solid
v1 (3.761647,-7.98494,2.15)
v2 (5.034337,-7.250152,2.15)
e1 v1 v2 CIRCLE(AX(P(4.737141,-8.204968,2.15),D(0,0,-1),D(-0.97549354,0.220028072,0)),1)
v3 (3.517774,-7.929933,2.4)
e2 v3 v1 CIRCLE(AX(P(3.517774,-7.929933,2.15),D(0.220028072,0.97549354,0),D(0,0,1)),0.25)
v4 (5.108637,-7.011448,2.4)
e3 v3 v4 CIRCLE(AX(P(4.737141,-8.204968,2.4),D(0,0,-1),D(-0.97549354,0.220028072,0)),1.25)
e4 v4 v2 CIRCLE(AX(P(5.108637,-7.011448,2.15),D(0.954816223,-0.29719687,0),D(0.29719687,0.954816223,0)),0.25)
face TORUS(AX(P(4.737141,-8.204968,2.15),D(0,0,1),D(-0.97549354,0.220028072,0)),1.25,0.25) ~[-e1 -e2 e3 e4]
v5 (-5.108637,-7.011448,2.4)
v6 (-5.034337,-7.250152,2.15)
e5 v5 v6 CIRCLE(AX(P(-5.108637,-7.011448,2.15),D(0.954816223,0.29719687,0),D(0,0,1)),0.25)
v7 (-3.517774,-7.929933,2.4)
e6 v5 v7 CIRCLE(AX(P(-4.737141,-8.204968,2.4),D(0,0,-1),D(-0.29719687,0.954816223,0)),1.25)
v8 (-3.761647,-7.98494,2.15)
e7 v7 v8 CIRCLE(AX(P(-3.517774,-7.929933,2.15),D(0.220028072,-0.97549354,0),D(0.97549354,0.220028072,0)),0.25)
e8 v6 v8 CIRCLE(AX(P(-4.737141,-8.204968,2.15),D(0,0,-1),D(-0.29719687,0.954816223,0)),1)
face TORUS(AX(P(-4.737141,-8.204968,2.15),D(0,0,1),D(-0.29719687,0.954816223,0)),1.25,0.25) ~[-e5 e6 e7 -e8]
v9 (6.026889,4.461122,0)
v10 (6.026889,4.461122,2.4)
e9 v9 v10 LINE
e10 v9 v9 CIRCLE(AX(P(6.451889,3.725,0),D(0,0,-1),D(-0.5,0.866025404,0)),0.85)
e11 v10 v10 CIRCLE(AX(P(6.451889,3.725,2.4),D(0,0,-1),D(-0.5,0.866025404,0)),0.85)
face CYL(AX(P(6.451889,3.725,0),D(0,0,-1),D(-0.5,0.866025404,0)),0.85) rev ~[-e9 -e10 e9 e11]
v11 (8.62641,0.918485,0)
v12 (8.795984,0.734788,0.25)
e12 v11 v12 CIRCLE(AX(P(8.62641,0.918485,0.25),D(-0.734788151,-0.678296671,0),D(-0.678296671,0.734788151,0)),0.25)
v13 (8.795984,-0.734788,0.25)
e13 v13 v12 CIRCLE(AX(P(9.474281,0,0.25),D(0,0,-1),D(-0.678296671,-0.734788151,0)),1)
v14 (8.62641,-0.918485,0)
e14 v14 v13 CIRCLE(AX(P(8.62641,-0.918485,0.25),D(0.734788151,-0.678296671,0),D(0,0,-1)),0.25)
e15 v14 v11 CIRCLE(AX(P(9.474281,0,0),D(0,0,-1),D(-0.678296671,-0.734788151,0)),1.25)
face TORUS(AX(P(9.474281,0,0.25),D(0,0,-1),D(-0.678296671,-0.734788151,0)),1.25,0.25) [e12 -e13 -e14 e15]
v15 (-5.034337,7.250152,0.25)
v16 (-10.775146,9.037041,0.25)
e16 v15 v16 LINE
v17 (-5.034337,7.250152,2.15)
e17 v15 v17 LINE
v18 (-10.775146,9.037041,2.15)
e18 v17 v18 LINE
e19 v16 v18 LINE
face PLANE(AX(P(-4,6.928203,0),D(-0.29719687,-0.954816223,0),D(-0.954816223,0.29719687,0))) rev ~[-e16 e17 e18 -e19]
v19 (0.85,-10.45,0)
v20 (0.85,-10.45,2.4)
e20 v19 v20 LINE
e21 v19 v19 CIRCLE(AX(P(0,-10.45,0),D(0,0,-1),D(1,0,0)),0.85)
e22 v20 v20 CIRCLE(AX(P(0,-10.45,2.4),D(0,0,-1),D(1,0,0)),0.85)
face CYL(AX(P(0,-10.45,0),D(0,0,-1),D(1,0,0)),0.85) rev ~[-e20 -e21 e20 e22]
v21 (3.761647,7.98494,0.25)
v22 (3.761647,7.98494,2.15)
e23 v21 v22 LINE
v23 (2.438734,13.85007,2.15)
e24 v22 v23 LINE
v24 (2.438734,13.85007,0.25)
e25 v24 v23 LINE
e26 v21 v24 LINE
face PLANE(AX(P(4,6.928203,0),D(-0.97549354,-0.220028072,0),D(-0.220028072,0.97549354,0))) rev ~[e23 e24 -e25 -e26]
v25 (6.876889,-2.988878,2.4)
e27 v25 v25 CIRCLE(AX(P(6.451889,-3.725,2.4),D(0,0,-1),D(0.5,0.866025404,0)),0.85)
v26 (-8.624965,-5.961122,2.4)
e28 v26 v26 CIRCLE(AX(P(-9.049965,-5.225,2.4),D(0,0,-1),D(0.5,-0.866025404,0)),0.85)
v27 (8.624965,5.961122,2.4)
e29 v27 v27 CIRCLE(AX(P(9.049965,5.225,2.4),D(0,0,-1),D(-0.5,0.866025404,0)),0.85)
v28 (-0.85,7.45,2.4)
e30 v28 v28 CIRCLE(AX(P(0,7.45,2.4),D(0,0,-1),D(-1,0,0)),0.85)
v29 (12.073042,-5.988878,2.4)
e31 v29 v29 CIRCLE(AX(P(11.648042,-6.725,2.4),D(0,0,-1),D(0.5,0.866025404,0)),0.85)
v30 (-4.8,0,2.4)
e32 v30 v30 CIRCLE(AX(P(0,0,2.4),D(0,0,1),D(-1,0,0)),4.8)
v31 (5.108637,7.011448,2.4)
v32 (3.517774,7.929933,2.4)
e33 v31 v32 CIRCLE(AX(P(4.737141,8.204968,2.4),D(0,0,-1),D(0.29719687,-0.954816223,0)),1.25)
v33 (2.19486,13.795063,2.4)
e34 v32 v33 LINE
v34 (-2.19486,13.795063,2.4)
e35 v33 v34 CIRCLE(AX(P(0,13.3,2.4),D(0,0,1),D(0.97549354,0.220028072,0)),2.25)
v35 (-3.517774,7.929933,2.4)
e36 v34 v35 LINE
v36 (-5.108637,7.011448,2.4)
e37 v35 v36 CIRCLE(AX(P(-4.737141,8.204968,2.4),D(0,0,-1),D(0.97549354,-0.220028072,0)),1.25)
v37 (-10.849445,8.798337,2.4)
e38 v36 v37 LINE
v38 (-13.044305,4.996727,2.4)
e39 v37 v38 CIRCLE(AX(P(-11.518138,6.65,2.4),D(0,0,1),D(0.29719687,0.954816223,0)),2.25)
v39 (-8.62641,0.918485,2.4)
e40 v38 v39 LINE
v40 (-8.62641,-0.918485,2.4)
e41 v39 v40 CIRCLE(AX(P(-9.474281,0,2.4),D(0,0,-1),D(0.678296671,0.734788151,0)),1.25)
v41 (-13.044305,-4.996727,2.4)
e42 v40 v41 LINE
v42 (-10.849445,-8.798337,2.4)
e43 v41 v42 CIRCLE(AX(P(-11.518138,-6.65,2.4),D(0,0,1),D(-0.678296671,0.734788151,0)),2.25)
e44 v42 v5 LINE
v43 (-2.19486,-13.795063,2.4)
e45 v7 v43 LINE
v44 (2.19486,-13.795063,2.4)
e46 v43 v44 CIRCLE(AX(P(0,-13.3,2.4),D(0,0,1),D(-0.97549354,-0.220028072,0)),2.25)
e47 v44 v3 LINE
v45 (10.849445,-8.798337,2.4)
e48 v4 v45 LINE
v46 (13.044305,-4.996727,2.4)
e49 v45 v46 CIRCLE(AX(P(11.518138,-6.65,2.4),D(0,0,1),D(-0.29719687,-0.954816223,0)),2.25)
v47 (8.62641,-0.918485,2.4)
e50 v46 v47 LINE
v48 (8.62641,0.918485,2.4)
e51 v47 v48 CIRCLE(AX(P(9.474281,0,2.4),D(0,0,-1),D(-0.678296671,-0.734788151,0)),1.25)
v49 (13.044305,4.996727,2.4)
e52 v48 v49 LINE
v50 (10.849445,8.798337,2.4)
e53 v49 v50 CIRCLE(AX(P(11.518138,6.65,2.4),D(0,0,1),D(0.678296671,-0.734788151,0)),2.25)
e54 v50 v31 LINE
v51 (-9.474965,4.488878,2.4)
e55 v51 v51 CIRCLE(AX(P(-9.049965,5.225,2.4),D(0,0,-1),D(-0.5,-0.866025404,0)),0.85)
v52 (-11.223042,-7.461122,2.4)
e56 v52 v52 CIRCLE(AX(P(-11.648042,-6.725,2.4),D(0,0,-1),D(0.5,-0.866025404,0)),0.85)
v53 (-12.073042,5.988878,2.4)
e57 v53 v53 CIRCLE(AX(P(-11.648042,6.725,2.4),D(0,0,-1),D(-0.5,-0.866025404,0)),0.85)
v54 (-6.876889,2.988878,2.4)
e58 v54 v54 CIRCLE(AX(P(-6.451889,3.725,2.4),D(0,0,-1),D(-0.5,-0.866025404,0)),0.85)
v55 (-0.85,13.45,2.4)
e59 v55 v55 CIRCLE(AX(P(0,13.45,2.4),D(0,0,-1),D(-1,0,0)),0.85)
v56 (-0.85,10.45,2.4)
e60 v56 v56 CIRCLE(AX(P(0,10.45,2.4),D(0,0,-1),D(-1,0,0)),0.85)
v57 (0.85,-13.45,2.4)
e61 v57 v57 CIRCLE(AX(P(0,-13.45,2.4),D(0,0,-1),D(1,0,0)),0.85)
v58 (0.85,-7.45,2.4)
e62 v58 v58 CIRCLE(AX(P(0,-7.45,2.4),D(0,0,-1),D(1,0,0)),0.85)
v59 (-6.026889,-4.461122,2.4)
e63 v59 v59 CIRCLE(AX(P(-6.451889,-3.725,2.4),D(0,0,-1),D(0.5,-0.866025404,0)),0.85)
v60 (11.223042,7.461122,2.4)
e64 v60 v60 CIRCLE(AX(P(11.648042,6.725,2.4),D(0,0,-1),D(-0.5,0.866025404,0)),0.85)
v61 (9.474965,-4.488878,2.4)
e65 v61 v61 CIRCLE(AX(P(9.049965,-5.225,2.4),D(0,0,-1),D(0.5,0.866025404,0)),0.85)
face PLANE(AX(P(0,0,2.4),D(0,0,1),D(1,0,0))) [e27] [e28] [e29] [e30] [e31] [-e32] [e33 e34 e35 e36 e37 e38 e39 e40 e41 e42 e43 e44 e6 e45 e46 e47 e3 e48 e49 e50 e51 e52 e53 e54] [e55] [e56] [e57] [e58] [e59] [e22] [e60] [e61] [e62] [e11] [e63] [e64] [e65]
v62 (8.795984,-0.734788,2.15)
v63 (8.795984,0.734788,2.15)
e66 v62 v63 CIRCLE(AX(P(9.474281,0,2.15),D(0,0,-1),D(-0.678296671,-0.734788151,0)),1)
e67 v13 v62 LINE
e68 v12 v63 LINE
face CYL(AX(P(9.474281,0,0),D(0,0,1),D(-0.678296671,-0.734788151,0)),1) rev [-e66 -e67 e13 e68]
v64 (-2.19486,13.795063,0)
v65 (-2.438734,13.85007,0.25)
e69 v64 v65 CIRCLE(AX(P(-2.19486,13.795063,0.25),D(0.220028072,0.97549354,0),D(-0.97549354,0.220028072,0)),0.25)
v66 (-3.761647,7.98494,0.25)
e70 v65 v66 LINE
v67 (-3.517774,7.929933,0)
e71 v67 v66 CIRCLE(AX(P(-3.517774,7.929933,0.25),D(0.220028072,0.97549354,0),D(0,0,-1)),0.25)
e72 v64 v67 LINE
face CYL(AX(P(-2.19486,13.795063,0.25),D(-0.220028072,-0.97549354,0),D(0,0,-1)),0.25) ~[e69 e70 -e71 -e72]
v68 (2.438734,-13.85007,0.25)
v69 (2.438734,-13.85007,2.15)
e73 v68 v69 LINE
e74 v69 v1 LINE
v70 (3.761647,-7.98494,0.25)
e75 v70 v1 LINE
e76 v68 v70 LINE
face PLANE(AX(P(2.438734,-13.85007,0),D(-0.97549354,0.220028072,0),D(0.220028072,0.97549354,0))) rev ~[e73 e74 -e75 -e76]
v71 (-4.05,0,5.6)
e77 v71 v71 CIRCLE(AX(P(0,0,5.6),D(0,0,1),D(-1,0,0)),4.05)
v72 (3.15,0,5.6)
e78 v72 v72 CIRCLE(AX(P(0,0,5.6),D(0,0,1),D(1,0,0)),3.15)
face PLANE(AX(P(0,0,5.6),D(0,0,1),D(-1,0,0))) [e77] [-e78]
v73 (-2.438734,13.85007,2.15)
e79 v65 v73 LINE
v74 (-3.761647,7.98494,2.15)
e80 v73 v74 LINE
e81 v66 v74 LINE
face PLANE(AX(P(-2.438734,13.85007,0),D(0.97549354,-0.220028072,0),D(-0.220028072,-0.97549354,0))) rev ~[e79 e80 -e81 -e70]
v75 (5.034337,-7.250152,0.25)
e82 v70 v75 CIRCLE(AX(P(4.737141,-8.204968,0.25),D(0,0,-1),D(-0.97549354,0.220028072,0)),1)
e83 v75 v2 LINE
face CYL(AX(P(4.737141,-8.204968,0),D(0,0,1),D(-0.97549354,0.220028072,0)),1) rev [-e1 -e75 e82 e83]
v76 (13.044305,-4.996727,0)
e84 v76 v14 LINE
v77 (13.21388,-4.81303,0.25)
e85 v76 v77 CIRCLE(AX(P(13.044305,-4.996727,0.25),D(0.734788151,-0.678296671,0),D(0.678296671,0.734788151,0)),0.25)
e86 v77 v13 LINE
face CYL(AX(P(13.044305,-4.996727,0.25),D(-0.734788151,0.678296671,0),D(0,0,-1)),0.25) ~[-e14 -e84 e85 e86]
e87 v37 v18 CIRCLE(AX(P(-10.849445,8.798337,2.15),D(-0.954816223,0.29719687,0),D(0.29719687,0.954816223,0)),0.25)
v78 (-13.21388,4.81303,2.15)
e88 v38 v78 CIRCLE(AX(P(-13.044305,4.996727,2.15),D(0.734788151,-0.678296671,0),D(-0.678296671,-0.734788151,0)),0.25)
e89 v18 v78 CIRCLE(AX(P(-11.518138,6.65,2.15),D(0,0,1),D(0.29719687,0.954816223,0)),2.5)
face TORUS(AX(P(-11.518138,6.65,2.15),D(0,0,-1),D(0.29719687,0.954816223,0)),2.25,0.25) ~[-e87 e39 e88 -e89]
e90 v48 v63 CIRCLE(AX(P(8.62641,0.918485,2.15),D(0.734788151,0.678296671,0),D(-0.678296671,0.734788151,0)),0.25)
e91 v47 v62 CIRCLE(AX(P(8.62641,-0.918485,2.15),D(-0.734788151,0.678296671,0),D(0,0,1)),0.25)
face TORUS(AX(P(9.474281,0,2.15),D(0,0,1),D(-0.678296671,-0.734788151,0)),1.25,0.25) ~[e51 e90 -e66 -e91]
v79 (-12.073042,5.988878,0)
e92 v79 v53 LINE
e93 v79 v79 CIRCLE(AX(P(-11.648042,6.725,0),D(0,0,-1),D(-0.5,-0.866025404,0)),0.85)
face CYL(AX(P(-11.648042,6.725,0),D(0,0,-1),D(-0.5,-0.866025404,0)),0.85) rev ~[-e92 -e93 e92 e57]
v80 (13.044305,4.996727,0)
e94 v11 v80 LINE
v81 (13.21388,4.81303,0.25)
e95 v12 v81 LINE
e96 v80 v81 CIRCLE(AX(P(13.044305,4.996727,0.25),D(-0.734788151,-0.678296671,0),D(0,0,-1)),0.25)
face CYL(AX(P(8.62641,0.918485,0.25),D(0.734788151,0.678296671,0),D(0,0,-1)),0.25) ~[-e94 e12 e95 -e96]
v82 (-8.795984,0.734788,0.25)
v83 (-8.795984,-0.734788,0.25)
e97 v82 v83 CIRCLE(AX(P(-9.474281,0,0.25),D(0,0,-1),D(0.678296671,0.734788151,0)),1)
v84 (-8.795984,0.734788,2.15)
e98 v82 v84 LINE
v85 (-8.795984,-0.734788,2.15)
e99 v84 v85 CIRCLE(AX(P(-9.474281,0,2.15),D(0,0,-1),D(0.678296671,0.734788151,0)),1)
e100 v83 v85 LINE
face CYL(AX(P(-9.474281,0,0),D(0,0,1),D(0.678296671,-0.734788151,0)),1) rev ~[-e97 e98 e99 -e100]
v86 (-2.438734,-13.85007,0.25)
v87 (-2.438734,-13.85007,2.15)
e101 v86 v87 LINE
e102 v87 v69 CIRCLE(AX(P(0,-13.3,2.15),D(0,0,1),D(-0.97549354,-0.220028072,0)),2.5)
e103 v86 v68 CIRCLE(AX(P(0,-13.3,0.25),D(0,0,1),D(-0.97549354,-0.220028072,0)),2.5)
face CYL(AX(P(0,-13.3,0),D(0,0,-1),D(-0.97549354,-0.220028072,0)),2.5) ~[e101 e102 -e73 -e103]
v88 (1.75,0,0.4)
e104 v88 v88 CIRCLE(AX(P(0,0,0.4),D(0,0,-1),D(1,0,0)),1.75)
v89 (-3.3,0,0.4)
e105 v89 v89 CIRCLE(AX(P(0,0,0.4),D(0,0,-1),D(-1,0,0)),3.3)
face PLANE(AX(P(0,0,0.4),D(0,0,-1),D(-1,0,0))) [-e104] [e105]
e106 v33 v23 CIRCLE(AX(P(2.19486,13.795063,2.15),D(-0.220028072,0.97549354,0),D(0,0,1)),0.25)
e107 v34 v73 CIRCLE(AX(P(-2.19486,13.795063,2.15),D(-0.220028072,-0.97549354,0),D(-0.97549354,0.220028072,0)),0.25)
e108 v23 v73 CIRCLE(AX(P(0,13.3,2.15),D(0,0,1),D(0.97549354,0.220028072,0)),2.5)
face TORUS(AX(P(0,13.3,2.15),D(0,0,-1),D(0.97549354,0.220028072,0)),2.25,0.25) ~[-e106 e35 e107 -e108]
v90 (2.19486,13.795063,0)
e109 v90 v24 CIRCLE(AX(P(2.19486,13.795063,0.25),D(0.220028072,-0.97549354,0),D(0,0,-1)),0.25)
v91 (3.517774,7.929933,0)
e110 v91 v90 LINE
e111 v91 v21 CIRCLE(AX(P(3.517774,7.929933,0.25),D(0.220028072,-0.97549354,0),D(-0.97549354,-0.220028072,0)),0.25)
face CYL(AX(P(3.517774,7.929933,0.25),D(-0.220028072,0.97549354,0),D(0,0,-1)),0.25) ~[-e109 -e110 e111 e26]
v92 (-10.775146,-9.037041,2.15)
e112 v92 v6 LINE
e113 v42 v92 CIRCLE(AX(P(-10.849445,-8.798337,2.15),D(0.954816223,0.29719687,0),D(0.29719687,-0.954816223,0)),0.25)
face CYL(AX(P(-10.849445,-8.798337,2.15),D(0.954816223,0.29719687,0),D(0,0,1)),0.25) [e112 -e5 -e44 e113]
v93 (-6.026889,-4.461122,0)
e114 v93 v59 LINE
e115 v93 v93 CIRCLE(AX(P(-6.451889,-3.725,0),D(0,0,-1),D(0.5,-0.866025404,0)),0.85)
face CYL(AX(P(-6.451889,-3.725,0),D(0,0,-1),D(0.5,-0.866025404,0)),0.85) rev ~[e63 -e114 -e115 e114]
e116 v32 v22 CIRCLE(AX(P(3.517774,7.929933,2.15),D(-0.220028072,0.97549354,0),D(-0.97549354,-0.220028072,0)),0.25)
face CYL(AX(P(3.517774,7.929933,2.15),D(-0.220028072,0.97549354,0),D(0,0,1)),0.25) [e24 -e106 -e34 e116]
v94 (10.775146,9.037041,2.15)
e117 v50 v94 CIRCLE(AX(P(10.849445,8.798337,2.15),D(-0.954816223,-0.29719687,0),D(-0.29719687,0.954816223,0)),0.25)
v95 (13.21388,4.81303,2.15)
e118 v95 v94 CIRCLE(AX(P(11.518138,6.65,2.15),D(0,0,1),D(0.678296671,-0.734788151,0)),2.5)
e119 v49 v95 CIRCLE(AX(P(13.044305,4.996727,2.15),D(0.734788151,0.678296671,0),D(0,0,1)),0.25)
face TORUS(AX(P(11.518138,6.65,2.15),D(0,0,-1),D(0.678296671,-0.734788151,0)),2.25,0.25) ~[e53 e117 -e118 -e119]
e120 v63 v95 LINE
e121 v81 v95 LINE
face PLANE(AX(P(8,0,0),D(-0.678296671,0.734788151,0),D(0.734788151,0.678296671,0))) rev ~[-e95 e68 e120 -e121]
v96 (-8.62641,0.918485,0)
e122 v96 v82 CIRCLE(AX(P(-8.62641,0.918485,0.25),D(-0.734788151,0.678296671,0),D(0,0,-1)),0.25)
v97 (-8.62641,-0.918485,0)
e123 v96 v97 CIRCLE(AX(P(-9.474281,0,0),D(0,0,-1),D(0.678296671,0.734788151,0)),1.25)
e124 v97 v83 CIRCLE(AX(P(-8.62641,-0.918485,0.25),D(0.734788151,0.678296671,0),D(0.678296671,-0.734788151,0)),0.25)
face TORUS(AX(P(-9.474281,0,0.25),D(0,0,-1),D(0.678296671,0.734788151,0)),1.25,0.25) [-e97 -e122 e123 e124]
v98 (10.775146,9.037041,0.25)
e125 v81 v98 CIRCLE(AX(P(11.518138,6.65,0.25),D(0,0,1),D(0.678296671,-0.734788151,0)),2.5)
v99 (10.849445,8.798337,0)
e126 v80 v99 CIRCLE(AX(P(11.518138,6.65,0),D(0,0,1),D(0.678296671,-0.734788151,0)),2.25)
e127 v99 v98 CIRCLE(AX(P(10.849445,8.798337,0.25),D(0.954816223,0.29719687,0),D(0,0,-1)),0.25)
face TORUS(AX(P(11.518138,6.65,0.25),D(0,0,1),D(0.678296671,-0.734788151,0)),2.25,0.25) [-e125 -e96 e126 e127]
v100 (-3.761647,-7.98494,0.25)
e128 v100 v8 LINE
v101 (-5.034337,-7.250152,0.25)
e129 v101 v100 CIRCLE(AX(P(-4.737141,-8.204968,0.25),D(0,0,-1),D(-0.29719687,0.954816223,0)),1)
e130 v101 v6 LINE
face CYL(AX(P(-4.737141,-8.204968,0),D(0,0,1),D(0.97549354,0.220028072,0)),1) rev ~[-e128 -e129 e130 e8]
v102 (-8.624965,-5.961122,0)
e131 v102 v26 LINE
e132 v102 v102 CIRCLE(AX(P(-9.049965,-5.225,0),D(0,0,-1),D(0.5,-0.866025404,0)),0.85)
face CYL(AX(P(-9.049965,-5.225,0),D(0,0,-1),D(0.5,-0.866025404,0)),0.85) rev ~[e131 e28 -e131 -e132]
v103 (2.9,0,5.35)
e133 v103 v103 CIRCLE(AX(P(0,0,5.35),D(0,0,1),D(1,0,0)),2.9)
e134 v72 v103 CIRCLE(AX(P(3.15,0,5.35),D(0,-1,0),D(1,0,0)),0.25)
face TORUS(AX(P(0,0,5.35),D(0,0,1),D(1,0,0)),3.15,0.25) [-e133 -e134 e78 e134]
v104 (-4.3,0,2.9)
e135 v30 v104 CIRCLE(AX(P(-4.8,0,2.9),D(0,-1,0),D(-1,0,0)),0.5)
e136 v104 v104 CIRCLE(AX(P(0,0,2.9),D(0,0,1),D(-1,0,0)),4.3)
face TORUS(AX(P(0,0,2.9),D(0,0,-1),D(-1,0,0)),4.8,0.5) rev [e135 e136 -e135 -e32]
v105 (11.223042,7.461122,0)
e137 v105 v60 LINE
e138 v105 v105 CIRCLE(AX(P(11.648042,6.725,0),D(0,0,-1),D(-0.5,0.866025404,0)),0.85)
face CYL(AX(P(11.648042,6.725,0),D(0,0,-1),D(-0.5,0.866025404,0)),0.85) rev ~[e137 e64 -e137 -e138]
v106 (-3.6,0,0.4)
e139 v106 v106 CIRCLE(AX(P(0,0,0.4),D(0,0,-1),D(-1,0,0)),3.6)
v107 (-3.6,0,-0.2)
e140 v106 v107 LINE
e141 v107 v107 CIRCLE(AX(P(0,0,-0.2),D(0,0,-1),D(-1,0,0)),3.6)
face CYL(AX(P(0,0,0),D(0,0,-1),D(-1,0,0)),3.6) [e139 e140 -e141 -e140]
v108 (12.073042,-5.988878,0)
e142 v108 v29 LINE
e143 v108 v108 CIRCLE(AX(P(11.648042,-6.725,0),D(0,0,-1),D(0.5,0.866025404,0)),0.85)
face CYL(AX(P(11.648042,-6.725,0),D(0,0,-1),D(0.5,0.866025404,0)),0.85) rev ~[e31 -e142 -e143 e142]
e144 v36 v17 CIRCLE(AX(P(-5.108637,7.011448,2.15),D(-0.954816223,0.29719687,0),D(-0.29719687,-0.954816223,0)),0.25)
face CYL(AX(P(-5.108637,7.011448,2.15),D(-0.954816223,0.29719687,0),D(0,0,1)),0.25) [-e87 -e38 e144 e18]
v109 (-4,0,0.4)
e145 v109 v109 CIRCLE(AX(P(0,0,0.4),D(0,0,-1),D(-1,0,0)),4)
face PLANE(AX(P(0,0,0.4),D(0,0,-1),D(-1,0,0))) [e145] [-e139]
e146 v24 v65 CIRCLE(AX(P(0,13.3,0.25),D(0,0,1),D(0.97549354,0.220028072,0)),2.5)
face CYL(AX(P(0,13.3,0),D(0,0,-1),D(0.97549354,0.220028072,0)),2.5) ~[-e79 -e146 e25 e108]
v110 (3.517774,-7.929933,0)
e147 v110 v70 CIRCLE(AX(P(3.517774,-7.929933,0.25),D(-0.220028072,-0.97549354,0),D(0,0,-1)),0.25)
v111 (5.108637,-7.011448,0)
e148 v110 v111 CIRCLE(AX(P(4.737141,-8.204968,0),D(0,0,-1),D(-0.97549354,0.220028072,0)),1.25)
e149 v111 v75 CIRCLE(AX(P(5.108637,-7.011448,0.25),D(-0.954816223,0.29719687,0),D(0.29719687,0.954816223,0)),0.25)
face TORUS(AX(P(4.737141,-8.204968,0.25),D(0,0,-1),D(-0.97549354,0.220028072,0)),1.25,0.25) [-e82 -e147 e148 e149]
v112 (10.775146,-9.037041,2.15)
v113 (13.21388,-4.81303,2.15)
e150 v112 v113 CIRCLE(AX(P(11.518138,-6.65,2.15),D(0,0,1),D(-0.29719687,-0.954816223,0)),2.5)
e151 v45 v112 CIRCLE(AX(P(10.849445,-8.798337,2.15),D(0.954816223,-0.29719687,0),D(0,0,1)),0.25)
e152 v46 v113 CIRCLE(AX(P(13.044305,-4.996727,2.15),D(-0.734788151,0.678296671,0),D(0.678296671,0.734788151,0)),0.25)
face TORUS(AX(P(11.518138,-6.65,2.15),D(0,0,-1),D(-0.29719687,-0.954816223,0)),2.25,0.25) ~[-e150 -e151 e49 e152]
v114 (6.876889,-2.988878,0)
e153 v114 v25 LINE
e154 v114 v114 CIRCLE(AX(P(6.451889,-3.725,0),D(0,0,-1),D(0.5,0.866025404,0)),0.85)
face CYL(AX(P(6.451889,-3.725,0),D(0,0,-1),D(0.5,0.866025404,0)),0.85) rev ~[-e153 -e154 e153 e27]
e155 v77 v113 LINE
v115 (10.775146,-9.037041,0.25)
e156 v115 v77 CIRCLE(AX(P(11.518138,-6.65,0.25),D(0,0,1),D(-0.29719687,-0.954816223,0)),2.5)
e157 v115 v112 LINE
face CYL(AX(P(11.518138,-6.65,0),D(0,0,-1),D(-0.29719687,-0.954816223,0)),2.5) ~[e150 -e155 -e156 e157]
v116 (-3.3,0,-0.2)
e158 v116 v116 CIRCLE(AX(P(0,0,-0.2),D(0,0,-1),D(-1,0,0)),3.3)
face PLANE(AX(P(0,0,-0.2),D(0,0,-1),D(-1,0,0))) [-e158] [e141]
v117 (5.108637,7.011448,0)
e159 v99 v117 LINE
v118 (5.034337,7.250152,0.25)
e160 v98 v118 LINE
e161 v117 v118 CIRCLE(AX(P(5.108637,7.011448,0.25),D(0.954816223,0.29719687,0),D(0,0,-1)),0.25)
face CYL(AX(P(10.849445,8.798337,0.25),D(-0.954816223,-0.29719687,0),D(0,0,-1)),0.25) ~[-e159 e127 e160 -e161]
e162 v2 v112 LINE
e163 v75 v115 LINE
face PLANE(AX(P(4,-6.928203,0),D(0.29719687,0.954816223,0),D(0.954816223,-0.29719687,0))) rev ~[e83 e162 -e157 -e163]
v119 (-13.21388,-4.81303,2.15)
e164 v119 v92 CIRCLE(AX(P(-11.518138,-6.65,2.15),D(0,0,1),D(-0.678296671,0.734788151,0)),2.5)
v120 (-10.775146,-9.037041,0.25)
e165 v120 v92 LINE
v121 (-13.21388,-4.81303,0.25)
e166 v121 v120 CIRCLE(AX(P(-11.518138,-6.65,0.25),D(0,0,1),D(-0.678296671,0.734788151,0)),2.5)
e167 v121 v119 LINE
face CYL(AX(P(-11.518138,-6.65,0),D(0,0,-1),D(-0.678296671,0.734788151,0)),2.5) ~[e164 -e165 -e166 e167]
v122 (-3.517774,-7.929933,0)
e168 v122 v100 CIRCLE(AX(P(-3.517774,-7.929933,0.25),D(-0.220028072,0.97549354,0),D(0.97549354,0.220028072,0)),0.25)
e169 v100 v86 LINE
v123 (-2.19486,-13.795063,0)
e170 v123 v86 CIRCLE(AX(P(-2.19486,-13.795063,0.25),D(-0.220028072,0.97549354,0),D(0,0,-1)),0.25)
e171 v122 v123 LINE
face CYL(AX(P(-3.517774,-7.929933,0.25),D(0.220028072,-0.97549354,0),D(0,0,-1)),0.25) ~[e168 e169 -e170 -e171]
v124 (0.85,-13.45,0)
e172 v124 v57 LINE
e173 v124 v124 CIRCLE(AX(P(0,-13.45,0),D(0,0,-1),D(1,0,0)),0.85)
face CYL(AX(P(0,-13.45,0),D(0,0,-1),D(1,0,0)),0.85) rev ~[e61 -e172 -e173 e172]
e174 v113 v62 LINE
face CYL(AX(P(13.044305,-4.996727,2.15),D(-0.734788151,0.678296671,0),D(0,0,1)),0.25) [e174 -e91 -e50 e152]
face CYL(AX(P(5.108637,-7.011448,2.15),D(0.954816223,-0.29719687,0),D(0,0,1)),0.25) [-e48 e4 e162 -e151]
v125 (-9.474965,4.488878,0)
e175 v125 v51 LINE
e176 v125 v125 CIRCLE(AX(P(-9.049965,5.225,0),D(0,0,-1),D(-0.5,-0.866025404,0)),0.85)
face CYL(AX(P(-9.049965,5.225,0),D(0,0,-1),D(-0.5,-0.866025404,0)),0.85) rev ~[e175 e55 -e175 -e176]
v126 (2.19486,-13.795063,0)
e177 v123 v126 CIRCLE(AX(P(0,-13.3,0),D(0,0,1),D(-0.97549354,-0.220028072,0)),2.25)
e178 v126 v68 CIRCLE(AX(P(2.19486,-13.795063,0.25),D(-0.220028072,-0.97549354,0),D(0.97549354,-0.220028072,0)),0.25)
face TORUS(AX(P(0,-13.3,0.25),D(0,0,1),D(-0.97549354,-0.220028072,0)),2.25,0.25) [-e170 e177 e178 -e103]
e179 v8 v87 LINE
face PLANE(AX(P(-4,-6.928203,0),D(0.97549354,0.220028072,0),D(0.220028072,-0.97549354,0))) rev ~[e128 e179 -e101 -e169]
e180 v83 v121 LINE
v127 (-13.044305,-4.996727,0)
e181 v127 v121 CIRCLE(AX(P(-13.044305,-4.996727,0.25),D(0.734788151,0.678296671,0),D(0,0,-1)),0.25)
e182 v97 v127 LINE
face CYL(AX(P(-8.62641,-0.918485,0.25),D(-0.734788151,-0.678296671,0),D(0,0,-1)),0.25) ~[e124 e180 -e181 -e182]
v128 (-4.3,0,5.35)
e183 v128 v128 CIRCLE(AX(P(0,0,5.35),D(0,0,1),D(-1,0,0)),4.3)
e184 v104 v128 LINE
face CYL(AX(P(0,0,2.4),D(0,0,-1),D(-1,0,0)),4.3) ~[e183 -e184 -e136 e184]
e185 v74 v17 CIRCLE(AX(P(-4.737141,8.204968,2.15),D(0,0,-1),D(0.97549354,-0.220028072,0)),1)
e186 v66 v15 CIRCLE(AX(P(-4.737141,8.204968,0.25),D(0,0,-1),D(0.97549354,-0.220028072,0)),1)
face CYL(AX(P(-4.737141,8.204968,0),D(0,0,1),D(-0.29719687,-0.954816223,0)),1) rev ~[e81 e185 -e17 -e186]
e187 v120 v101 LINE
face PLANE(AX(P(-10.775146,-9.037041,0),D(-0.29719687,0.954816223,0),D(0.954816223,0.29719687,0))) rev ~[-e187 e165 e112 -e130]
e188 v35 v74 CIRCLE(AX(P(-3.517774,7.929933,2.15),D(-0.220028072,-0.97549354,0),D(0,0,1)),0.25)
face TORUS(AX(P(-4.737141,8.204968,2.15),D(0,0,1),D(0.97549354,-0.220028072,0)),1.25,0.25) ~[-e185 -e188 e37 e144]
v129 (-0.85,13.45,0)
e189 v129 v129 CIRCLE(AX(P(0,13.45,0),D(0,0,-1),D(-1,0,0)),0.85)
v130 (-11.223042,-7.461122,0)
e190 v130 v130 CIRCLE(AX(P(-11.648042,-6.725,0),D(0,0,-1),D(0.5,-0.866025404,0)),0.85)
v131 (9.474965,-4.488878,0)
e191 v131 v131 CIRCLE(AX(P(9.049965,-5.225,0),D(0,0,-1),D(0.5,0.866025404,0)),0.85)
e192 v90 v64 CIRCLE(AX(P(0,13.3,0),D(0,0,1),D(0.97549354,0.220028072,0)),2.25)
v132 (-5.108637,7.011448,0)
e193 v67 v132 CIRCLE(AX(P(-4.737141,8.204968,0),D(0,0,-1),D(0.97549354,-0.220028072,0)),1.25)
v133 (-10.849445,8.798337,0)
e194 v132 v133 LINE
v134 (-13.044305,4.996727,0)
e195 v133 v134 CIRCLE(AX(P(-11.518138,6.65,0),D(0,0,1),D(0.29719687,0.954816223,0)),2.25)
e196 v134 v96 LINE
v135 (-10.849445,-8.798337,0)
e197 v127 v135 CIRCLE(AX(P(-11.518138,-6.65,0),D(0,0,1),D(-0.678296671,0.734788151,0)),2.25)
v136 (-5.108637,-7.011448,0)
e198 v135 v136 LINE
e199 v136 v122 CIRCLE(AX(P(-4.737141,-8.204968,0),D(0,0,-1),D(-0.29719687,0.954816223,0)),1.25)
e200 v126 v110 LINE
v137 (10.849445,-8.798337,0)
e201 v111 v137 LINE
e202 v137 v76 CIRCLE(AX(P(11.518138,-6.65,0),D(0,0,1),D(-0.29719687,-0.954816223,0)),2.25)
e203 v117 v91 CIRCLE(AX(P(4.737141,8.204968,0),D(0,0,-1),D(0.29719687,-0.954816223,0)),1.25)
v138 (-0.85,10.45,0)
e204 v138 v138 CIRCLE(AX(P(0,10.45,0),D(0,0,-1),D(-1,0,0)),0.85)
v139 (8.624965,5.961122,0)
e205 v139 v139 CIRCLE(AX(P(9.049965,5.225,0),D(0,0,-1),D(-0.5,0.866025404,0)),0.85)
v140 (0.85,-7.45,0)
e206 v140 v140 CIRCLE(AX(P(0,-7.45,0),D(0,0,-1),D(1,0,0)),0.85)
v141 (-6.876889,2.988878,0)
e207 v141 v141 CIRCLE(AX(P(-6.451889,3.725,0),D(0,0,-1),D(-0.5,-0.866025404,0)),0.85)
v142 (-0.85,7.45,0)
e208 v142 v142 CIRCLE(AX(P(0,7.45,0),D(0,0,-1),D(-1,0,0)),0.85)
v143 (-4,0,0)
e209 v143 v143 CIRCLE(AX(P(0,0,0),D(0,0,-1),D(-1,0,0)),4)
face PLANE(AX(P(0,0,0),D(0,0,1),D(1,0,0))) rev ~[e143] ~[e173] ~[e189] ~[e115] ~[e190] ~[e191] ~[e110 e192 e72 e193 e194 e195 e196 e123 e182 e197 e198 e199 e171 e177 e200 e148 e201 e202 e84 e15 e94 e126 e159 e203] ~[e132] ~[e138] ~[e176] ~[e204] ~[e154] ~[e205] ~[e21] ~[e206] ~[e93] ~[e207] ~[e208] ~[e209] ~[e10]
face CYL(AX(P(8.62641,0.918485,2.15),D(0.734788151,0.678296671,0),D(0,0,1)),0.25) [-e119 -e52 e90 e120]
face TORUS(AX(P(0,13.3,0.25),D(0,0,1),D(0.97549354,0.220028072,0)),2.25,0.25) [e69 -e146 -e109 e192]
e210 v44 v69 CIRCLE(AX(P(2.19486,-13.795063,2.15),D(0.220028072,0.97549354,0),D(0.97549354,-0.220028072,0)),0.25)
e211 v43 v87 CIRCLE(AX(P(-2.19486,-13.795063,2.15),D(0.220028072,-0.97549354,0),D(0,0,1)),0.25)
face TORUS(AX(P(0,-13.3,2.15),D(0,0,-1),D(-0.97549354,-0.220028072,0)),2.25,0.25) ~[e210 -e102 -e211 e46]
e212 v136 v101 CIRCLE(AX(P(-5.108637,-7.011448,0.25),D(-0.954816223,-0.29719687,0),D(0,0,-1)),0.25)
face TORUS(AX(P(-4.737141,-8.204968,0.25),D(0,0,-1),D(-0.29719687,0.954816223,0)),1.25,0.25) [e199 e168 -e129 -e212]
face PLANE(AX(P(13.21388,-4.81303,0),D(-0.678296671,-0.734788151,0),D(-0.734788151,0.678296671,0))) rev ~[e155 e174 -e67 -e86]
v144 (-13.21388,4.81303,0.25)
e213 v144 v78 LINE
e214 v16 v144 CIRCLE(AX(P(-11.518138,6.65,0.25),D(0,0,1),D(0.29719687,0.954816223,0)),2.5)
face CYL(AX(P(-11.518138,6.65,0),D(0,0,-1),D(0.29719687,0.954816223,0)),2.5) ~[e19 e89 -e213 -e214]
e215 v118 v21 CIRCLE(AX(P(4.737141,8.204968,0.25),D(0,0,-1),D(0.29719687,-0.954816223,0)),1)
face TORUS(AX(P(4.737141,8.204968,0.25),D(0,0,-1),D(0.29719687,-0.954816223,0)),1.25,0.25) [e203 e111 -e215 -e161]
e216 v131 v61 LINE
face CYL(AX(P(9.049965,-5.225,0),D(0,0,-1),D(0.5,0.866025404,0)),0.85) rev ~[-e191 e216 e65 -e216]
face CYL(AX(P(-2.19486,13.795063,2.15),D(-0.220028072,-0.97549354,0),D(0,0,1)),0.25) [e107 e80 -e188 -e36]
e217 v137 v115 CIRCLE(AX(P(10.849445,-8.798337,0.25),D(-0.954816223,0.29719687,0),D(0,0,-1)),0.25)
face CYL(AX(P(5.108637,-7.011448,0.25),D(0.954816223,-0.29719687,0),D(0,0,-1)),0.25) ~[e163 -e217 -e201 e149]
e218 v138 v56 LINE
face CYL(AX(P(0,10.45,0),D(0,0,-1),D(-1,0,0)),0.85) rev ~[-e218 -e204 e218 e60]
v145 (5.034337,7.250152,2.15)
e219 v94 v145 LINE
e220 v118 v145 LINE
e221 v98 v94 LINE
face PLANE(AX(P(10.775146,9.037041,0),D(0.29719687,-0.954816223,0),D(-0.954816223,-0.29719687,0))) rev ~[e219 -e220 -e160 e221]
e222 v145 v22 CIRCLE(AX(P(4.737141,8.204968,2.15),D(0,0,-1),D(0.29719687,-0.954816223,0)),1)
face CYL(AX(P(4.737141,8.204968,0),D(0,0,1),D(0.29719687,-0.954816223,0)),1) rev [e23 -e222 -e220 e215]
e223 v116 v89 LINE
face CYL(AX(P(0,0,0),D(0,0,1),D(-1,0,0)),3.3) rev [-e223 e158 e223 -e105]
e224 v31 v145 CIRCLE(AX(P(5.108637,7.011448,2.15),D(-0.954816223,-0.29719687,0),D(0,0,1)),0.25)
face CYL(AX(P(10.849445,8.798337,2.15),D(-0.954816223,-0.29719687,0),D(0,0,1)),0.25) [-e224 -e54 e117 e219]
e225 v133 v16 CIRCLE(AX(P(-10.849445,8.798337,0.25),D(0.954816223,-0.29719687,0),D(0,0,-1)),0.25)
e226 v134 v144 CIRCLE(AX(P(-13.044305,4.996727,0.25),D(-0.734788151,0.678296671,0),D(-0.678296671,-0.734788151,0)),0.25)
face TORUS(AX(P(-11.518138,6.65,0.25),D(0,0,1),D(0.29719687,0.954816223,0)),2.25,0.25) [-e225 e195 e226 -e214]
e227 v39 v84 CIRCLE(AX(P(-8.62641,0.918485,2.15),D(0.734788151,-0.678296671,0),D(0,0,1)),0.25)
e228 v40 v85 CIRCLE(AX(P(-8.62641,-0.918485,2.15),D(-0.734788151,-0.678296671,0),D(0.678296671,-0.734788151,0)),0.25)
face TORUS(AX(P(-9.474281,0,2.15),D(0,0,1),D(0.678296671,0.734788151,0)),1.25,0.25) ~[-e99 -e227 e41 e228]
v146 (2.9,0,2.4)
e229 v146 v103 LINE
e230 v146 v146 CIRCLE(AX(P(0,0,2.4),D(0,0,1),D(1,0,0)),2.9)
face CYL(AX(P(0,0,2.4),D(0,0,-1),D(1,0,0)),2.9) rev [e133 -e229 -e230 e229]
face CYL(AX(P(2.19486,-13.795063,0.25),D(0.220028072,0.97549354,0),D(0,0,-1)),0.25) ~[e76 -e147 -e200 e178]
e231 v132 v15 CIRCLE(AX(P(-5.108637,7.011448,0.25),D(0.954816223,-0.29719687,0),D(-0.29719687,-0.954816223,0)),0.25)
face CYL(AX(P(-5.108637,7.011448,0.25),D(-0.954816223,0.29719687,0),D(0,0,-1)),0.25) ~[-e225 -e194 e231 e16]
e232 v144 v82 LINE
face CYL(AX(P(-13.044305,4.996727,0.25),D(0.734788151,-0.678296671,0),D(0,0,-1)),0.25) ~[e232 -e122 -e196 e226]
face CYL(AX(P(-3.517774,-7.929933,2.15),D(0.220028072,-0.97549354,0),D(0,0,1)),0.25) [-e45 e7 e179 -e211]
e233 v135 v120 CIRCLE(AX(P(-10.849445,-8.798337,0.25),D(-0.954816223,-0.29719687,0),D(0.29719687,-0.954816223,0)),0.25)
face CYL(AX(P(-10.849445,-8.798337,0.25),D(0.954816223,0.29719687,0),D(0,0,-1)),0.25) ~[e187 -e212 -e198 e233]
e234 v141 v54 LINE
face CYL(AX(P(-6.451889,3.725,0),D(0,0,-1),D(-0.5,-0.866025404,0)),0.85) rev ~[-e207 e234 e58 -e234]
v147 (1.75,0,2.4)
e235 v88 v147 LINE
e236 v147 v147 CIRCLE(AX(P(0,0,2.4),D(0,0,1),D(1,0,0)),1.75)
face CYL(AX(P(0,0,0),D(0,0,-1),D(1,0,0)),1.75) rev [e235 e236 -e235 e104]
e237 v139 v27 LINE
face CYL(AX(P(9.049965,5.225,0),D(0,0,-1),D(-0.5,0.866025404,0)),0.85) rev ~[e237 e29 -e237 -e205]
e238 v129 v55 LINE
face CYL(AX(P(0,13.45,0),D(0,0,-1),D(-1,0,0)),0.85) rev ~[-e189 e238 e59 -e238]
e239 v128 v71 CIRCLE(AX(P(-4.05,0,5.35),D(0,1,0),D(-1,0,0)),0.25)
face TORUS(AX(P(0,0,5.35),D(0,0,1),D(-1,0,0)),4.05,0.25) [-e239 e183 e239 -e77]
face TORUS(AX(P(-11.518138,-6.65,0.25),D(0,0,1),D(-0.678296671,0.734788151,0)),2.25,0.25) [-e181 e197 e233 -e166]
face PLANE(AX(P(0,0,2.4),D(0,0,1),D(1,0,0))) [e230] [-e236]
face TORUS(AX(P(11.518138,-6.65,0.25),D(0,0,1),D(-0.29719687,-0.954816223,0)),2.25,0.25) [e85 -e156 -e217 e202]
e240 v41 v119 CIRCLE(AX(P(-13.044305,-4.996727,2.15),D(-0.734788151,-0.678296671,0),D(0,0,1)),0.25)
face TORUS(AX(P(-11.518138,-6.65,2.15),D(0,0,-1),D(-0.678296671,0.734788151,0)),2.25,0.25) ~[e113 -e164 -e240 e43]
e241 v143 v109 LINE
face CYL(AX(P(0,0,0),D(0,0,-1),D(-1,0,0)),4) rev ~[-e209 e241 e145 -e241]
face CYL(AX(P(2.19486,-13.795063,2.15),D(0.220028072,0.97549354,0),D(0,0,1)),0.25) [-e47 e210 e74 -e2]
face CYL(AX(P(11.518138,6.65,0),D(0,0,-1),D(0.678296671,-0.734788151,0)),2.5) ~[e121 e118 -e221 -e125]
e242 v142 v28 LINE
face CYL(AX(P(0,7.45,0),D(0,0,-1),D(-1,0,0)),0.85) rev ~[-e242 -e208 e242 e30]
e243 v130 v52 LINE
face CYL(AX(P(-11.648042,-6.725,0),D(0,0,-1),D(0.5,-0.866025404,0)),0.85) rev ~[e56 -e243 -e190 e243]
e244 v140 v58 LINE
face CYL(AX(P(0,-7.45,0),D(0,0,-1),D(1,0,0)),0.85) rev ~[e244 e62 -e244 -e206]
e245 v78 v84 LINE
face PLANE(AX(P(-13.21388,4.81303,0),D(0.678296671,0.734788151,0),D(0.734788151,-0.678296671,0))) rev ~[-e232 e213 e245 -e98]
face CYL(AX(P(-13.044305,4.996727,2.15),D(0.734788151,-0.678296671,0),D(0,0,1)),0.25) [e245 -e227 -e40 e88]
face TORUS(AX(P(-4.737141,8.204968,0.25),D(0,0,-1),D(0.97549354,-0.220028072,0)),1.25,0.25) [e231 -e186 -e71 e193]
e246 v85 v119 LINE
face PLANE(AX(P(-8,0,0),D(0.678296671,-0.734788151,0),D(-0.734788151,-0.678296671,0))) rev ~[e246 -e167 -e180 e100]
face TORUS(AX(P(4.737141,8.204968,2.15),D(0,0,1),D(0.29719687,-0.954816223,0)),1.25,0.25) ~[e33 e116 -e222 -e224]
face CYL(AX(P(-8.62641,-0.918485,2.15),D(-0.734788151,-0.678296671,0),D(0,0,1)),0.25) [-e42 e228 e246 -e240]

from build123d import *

# Parameters (mm, degrees)
SKETCH1_R                    = 1.75
BOSS_EXTRUDE1_DEPTH          = 2.4
SKETCH2_R                    = 4.3
SKETCH2_R_2                  = 2.9
BOSS_EXTRUDE2_DEPTH          = 3.2
SKETCH4_R                    = 3.6
SKETCH4_R_2                  = 3.3
BOSS_EXTRUDE3_DEPTH          = 0.2
SKETCH5_R                    = 4
SKETCH5_R_2                  = 3.6
SKETCH5_R_3                  = 3.3
CUT_EXTRUDE2_DEPTH           = 0.4
SKETCH6_R                    = 0.85
CUT_EXTRUDE3_DEPTH           = 22.851960767
LPATTERN1_COUNT              = 3
LPATTERN1_PITCH              = 3
CIRPATTERN1_COUNT            = 6
CIRPATTERN1_COPY_1_SKETCH_R  = 0.85
CIRPATTERN1_COPY_1_DEPTH     = 22.851960767
CIRPATTERN1_COPY_2_SKETCH_R  = 0.85
CIRPATTERN1_COPY_2_DEPTH     = 22.851960767
CIRPATTERN1_COPY_3_SKETCH_R  = 0.85
CIRPATTERN1_COPY_3_DEPTH     = 22.851960767
CIRPATTERN1_COPY_4_SKETCH_R  = 0.85
CIRPATTERN1_COPY_4_DEPTH     = 22.851960767
CIRPATTERN1_COPY_5_SKETCH_R  = 0.85
CIRPATTERN1_COPY_5_DEPTH     = 22.851960767
CIRPATTERN1_COPY_6_SKETCH_R  = 0.85
CIRPATTERN1_COPY_6_DEPTH     = 22.851960767
CIRPATTERN1_COPY_7_SKETCH_R  = 0.85
CIRPATTERN1_COPY_7_DEPTH     = 22.851960767
CIRPATTERN1_COPY_8_SKETCH_R  = 0.85
CIRPATTERN1_COPY_8_DEPTH     = 22.851960767
CIRPATTERN1_COPY_9_SKETCH_R  = 0.85
CIRPATTERN1_COPY_9_DEPTH     = 22.851960767
CIRPATTERN1_COPY_10_SKETCH_R = 0.85
CIRPATTERN1_COPY_10_DEPTH    = 22.851960767
FILLET3_R                    = 1
FILLET1_R                    = 0.25
FILLET2_R                    = 0.5


with BuildPart() as part:
    # Sketch1 → Boss-Extrude1 (new body)
    with BuildSketch(Plane.XY):
        with BuildLine():
            Line((-4, -6.92820323), (-2.438733851, -13.850070181))
            ThreePointArc((-2.438733851, -13.850070181), (0, -15.8), (2.438733851, -13.850070181))
            Line((2.438733851, -13.850070181), (4, -6.92820323))
            Line((4, -6.92820323), (10.775145696, -9.037040559))
            ThreePointArc((10.775145696, -9.037040559), (13.68320138, -7.9), (13.213879547, -4.813029623))
            Line((13.213879547, -4.813029623), (8, 0))
            Line((8, 0), (13.213879547, 4.813029623))
            ThreePointArc((13.213879547, 4.813029623), (13.68320138, 7.9), (10.775145696, 9.037040559))
            Line((10.775145696, 9.037040559), (4, 6.92820323))
            Line((4, 6.92820323), (2.438733851, 13.850070181))
            ThreePointArc((2.438733851, 13.850070181), (0, 15.8), (-2.438733851, 13.850070181))
            Line((-2.438733851, 13.850070181), (-4, 6.92820323))
            Line((-4, 6.92820323), (-10.775145696, 9.037040559))
            ThreePointArc((-10.775145696, 9.037040559), (-13.68320138, 7.9), (-13.213879547, 4.813029623))
            Line((-13.213879547, 4.813029623), (-8, 0))
            Line((-8, 0), (-13.213879547, -4.813029623))
            ThreePointArc((-13.213879547, -4.813029623), (-13.68320138, -7.9), (-10.775145696, -9.037040559))
            Line((-10.775145696, -9.037040559), (-4, -6.92820323))
        make_face()
        Circle(SKETCH1_R, mode=Mode.SUBTRACT)
    extrude(amount=BOSS_EXTRUDE1_DEPTH)

    # Sketch2 → Boss-Extrude2 (add)
    with BuildSketch(Plane.XY.offset(2.4)):
        with Locations(Location((0, 0, 0), (0, 0, 180))):
            Circle(SKETCH2_R)
        Circle(SKETCH2_R_2, mode=Mode.SUBTRACT)
    extrude(amount=BOSS_EXTRUDE2_DEPTH)

    # Sketch4 → Boss-Extrude3 (add)
    with BuildSketch(Plane(origin=(0, 0, 0), x_dir=(-1, 0, 0), z_dir=(0, 0, -1))):
        Circle(SKETCH4_R)
        Circle(SKETCH4_R_2, mode=Mode.SUBTRACT)
    extrude(amount=BOSS_EXTRUDE3_DEPTH)

    # Sketch5 → Cut-Extrude2 (cut)
    with BuildSketch(Plane(origin=(0, 0, 0), x_dir=(-1, 0, 0), z_dir=(0, 0, -1))):
        Circle(SKETCH5_R)
        Circle(SKETCH5_R_2, mode=Mode.SUBTRACT)
        Circle(SKETCH5_R_3)
    extrude(amount=-CUT_EXTRUDE2_DEPTH, mode=Mode.SUBTRACT)

    # Sketch6 → Cut-Extrude3 (cut, through all)
    with BuildSketch(Plane(origin=(0, 0, 0), x_dir=(-1, 0, 0), z_dir=(0, 0, -1))):
        with Locations((0, 7.45)):
            Circle(SKETCH6_R)
    cut_extrude3 = extrude(amount=-CUT_EXTRUDE3_DEPTH, mode=Mode.SUBTRACT)

    # LPattern1: Cut-Extrude3 ×3
    with Locations(*[(0, i * LPATTERN1_PITCH, 0) for i in range(1, LPATTERN1_COUNT)]):
        add(cut_extrude3, mode=Mode.SUBTRACT)

    # CirPattern1: Cut-Extrude3 ×6 about axis
    cirpattern1_axis = Axis((0, 0, 0), (0, 0, 1))
    for i in range(1, CIRPATTERN1_COUNT):
        add(cut_extrude3.rotate(cirpattern1_axis, i * 360 / CIRPATTERN1_COUNT), mode=Mode.SUBTRACT)

    # CirPattern1 copy 1 sketch → CirPattern1 copy 1 (cut, through all)
    with BuildSketch(Plane(origin=(-2.598076211, 1.5, 0), x_dir=(-0.5000000000000001, -0.8660254037844386, 0), z_dir=(0, 0, -1))):
        with Locations((0, 7.45)):
            Circle(CIRPATTERN1_COPY_1_SKETCH_R)
    extrude(amount=-CIRPATTERN1_COPY_1_DEPTH, mode=Mode.SUBTRACT)

    # CirPattern1 copy 2 sketch → CirPattern1 copy 2 (cut, through all)
    with BuildSketch(Plane(origin=(-2.598076211, -1.5, 0), x_dir=(0.4999999999999998, -0.8660254037844387, 0), z_dir=(0, 0, -1))):
        with Locations((0, 7.45)):
            Circle(CIRPATTERN1_COPY_2_SKETCH_R)
    extrude(amount=-CIRPATTERN1_COPY_2_DEPTH, mode=Mode.SUBTRACT)

    # CirPattern1 copy 3 sketch → CirPattern1 copy 3 (cut, through all)
    with BuildSketch(Plane(origin=(0, -3, 0), x_dir=(1, 0, 0), z_dir=(0, 0, -1))):
        with Locations((0, 7.45)):
            Circle(CIRPATTERN1_COPY_3_SKETCH_R)
    extrude(amount=-CIRPATTERN1_COPY_3_DEPTH, mode=Mode.SUBTRACT)

    # CirPattern1 copy 4 sketch → CirPattern1 copy 4 (cut, through all)
    with BuildSketch(Plane(origin=(2.598076211, -1.5, 0), x_dir=(0.5000000000000004, 0.8660254037844384, 0), z_dir=(0, 0, -1))):
        with Locations((0, 7.45)):
            Circle(CIRPATTERN1_COPY_4_SKETCH_R)
    extrude(amount=-CIRPATTERN1_COPY_4_DEPTH, mode=Mode.SUBTRACT)

    # CirPattern1 copy 5 sketch → CirPattern1 copy 5 (cut, through all)
    with BuildSketch(Plane(origin=(2.598076211, 1.5, 0), x_dir=(-0.5000000000000001, 0.8660254037844386, 0), z_dir=(0, 0, -1))):
        with Locations((0, 7.45)):
            Circle(CIRPATTERN1_COPY_5_SKETCH_R)
    extrude(amount=-CIRPATTERN1_COPY_5_DEPTH, mode=Mode.SUBTRACT)

    # CirPattern1 copy 6 sketch → CirPattern1 copy 6 (cut, through all)
    with BuildSketch(Plane(origin=(-5.196152423, 3, 0), x_dir=(-0.5000000000000001, -0.8660254037844386, 0), z_dir=(0, 0, -1))):
        with Locations((0, 7.45)):
            Circle(CIRPATTERN1_COPY_6_SKETCH_R)
    extrude(amount=-CIRPATTERN1_COPY_6_DEPTH, mode=Mode.SUBTRACT)

    # CirPattern1 copy 7 sketch → CirPattern1 copy 7 (cut, through all)
    with BuildSketch(Plane(origin=(-5.196152423, -3, 0), x_dir=(0.4999999999999998, -0.8660254037844387, 0), z_dir=(0, 0, -1))):
        with Locations((0, 7.45)):
            Circle(CIRPATTERN1_COPY_7_SKETCH_R)
    extrude(amount=-CIRPATTERN1_COPY_7_DEPTH, mode=Mode.SUBTRACT)

    # CirPattern1 copy 8 sketch → CirPattern1 copy 8 (cut, through all)
    with BuildSketch(Plane(origin=(0, -6, 0), x_dir=(1, 0, 0), z_dir=(0, 0, -1))):
        with Locations((0, 7.45)):
            Circle(CIRPATTERN1_COPY_8_SKETCH_R)
    extrude(amount=-CIRPATTERN1_COPY_8_DEPTH, mode=Mode.SUBTRACT)

    # CirPattern1 copy 9 sketch → CirPattern1 copy 9 (cut, through all)
    with BuildSketch(Plane(origin=(5.196152423, -3, 0), x_dir=(0.5000000000000004, 0.8660254037844384, 0), z_dir=(0, 0, -1))):
        with Locations((0, 7.45)):
            Circle(CIRPATTERN1_COPY_9_SKETCH_R)
    extrude(amount=-CIRPATTERN1_COPY_9_DEPTH, mode=Mode.SUBTRACT)

    # CirPattern1 copy 10 sketch → CirPattern1 copy 10 (cut, through all)
    with BuildSketch(Plane(origin=(5.196152423, 3, 0), x_dir=(-0.5000000000000001, 0.8660254037844386, 0), z_dir=(0, 0, -1))):
        with Locations((0, 7.45)):
            Circle(CIRPATTERN1_COPY_10_SKETCH_R)
    extrude(amount=-CIRPATTERN1_COPY_10_DEPTH, mode=Mode.SUBTRACT)

    # Fillet3
    fillet3_edges = [part.edges().sort_by_distance(p)[0] for p in [
        (4, 6.92820323, 1.2),
        (8, 0, 1.2),
        (4, -6.92820323, 1.2),
        (-4, -6.92820323, 1.2),
        (-8, 0, 1.2),
        (-4, 6.92820323, 1.2),
    ]]
    fillet(fillet3_edges, radius=FILLET3_R)

    # Fillet1
    fillet1_edges = [part.edges().sort_by_distance(p)[0] for p in [
        (-13.68320138, 7.9, 2.4),
        (-11.004932016, 2.773908887, 2.4),
        (7.904741572, 8.14359625, 0),
        (13.68320138, 7.9, 0),
        (11.004932016, -2.773908887, 0),
        (7.904741572, -8.14359625, 0),
        (7.904741572, -8.14359625, 2.4),
        (13.68320138, -7.9, 0),
        (-3.100190444, -10.917505137, 0),
        (-3.100190444, -10.917505137, 2.4),
        (-11.004932016, -2.773908887, 0),
        (-11.004932016, -2.773908887, 2.4),
        (-7.904741572, 8.14359625, 0),
        (-7.904741572, 8.14359625, 2.4),
        (3.100190444, 10.917505137, 0),
        (3.100190444, -10.917505137, 0),
        (3.100190444, 10.917505137, 2.4),
        (11.004932016, 2.773908887, 0),
        (11.004932016, 2.773908887, 2.4),
        (0, -15.8, 0),
        (4.237140578, -7.338942761, 0),
        (4.237140578, -7.338942761, 2.4),
        (-4.237140578, -7.338942761, 0),
        (-4.237140578, -7.338942761, 2.4),
        (-8.474281157, 0, 0),
        (-8.474281157, 0, 2.4),
        (-4.237140578, 7.338942761, 0),
        (-4.237140578, 7.338942761, 2.4),
        (4.237140578, 7.338942761, 0),
        (4.237140578, 7.338942761, 2.4),
        (8.474281157, 0, 0),
        (8.474281157, 0, 2.4),
        (-7.904741572, -8.14359625, 0),
        (-13.68320138, -7.9, 0),
        (-11.004932016, 2.773908887, 0),
        (-13.68320138, 7.9, 0),
        (-13.68320138, -7.9, 2.4),
        (-3.100190444, 10.917505137, 0),
        (0, 15.8, 0),
        (-7.904741572, -8.14359625, 2.4),
        (0, -15.8, 2.4),
        (3.100190444, -10.917505137, 2.4),
        (0, 15.8, 2.4),
        (13.68320138, -7.9, 2.4),
        (11.004932016, -2.773908887, 2.4),
        (13.68320138, 7.9, 2.4),
        (7.904741572, 8.14359625, 2.4),
        (4.3, 0, 5.6),
        (-2.9, 0, 5.6),
        (-3.100190444, 10.917505137, 2.4),
    ]]
    fillet(fillet1_edges, radius=FILLET1_R)

    # Fillet2
    fillet2_edges = [part.edges().sort_by_distance(p)[0] for p in [
        (4.3, 0, 2.4),
    ]]
    fillet(fillet2_edges, radius=FILLET2_R)


solid = part.part
